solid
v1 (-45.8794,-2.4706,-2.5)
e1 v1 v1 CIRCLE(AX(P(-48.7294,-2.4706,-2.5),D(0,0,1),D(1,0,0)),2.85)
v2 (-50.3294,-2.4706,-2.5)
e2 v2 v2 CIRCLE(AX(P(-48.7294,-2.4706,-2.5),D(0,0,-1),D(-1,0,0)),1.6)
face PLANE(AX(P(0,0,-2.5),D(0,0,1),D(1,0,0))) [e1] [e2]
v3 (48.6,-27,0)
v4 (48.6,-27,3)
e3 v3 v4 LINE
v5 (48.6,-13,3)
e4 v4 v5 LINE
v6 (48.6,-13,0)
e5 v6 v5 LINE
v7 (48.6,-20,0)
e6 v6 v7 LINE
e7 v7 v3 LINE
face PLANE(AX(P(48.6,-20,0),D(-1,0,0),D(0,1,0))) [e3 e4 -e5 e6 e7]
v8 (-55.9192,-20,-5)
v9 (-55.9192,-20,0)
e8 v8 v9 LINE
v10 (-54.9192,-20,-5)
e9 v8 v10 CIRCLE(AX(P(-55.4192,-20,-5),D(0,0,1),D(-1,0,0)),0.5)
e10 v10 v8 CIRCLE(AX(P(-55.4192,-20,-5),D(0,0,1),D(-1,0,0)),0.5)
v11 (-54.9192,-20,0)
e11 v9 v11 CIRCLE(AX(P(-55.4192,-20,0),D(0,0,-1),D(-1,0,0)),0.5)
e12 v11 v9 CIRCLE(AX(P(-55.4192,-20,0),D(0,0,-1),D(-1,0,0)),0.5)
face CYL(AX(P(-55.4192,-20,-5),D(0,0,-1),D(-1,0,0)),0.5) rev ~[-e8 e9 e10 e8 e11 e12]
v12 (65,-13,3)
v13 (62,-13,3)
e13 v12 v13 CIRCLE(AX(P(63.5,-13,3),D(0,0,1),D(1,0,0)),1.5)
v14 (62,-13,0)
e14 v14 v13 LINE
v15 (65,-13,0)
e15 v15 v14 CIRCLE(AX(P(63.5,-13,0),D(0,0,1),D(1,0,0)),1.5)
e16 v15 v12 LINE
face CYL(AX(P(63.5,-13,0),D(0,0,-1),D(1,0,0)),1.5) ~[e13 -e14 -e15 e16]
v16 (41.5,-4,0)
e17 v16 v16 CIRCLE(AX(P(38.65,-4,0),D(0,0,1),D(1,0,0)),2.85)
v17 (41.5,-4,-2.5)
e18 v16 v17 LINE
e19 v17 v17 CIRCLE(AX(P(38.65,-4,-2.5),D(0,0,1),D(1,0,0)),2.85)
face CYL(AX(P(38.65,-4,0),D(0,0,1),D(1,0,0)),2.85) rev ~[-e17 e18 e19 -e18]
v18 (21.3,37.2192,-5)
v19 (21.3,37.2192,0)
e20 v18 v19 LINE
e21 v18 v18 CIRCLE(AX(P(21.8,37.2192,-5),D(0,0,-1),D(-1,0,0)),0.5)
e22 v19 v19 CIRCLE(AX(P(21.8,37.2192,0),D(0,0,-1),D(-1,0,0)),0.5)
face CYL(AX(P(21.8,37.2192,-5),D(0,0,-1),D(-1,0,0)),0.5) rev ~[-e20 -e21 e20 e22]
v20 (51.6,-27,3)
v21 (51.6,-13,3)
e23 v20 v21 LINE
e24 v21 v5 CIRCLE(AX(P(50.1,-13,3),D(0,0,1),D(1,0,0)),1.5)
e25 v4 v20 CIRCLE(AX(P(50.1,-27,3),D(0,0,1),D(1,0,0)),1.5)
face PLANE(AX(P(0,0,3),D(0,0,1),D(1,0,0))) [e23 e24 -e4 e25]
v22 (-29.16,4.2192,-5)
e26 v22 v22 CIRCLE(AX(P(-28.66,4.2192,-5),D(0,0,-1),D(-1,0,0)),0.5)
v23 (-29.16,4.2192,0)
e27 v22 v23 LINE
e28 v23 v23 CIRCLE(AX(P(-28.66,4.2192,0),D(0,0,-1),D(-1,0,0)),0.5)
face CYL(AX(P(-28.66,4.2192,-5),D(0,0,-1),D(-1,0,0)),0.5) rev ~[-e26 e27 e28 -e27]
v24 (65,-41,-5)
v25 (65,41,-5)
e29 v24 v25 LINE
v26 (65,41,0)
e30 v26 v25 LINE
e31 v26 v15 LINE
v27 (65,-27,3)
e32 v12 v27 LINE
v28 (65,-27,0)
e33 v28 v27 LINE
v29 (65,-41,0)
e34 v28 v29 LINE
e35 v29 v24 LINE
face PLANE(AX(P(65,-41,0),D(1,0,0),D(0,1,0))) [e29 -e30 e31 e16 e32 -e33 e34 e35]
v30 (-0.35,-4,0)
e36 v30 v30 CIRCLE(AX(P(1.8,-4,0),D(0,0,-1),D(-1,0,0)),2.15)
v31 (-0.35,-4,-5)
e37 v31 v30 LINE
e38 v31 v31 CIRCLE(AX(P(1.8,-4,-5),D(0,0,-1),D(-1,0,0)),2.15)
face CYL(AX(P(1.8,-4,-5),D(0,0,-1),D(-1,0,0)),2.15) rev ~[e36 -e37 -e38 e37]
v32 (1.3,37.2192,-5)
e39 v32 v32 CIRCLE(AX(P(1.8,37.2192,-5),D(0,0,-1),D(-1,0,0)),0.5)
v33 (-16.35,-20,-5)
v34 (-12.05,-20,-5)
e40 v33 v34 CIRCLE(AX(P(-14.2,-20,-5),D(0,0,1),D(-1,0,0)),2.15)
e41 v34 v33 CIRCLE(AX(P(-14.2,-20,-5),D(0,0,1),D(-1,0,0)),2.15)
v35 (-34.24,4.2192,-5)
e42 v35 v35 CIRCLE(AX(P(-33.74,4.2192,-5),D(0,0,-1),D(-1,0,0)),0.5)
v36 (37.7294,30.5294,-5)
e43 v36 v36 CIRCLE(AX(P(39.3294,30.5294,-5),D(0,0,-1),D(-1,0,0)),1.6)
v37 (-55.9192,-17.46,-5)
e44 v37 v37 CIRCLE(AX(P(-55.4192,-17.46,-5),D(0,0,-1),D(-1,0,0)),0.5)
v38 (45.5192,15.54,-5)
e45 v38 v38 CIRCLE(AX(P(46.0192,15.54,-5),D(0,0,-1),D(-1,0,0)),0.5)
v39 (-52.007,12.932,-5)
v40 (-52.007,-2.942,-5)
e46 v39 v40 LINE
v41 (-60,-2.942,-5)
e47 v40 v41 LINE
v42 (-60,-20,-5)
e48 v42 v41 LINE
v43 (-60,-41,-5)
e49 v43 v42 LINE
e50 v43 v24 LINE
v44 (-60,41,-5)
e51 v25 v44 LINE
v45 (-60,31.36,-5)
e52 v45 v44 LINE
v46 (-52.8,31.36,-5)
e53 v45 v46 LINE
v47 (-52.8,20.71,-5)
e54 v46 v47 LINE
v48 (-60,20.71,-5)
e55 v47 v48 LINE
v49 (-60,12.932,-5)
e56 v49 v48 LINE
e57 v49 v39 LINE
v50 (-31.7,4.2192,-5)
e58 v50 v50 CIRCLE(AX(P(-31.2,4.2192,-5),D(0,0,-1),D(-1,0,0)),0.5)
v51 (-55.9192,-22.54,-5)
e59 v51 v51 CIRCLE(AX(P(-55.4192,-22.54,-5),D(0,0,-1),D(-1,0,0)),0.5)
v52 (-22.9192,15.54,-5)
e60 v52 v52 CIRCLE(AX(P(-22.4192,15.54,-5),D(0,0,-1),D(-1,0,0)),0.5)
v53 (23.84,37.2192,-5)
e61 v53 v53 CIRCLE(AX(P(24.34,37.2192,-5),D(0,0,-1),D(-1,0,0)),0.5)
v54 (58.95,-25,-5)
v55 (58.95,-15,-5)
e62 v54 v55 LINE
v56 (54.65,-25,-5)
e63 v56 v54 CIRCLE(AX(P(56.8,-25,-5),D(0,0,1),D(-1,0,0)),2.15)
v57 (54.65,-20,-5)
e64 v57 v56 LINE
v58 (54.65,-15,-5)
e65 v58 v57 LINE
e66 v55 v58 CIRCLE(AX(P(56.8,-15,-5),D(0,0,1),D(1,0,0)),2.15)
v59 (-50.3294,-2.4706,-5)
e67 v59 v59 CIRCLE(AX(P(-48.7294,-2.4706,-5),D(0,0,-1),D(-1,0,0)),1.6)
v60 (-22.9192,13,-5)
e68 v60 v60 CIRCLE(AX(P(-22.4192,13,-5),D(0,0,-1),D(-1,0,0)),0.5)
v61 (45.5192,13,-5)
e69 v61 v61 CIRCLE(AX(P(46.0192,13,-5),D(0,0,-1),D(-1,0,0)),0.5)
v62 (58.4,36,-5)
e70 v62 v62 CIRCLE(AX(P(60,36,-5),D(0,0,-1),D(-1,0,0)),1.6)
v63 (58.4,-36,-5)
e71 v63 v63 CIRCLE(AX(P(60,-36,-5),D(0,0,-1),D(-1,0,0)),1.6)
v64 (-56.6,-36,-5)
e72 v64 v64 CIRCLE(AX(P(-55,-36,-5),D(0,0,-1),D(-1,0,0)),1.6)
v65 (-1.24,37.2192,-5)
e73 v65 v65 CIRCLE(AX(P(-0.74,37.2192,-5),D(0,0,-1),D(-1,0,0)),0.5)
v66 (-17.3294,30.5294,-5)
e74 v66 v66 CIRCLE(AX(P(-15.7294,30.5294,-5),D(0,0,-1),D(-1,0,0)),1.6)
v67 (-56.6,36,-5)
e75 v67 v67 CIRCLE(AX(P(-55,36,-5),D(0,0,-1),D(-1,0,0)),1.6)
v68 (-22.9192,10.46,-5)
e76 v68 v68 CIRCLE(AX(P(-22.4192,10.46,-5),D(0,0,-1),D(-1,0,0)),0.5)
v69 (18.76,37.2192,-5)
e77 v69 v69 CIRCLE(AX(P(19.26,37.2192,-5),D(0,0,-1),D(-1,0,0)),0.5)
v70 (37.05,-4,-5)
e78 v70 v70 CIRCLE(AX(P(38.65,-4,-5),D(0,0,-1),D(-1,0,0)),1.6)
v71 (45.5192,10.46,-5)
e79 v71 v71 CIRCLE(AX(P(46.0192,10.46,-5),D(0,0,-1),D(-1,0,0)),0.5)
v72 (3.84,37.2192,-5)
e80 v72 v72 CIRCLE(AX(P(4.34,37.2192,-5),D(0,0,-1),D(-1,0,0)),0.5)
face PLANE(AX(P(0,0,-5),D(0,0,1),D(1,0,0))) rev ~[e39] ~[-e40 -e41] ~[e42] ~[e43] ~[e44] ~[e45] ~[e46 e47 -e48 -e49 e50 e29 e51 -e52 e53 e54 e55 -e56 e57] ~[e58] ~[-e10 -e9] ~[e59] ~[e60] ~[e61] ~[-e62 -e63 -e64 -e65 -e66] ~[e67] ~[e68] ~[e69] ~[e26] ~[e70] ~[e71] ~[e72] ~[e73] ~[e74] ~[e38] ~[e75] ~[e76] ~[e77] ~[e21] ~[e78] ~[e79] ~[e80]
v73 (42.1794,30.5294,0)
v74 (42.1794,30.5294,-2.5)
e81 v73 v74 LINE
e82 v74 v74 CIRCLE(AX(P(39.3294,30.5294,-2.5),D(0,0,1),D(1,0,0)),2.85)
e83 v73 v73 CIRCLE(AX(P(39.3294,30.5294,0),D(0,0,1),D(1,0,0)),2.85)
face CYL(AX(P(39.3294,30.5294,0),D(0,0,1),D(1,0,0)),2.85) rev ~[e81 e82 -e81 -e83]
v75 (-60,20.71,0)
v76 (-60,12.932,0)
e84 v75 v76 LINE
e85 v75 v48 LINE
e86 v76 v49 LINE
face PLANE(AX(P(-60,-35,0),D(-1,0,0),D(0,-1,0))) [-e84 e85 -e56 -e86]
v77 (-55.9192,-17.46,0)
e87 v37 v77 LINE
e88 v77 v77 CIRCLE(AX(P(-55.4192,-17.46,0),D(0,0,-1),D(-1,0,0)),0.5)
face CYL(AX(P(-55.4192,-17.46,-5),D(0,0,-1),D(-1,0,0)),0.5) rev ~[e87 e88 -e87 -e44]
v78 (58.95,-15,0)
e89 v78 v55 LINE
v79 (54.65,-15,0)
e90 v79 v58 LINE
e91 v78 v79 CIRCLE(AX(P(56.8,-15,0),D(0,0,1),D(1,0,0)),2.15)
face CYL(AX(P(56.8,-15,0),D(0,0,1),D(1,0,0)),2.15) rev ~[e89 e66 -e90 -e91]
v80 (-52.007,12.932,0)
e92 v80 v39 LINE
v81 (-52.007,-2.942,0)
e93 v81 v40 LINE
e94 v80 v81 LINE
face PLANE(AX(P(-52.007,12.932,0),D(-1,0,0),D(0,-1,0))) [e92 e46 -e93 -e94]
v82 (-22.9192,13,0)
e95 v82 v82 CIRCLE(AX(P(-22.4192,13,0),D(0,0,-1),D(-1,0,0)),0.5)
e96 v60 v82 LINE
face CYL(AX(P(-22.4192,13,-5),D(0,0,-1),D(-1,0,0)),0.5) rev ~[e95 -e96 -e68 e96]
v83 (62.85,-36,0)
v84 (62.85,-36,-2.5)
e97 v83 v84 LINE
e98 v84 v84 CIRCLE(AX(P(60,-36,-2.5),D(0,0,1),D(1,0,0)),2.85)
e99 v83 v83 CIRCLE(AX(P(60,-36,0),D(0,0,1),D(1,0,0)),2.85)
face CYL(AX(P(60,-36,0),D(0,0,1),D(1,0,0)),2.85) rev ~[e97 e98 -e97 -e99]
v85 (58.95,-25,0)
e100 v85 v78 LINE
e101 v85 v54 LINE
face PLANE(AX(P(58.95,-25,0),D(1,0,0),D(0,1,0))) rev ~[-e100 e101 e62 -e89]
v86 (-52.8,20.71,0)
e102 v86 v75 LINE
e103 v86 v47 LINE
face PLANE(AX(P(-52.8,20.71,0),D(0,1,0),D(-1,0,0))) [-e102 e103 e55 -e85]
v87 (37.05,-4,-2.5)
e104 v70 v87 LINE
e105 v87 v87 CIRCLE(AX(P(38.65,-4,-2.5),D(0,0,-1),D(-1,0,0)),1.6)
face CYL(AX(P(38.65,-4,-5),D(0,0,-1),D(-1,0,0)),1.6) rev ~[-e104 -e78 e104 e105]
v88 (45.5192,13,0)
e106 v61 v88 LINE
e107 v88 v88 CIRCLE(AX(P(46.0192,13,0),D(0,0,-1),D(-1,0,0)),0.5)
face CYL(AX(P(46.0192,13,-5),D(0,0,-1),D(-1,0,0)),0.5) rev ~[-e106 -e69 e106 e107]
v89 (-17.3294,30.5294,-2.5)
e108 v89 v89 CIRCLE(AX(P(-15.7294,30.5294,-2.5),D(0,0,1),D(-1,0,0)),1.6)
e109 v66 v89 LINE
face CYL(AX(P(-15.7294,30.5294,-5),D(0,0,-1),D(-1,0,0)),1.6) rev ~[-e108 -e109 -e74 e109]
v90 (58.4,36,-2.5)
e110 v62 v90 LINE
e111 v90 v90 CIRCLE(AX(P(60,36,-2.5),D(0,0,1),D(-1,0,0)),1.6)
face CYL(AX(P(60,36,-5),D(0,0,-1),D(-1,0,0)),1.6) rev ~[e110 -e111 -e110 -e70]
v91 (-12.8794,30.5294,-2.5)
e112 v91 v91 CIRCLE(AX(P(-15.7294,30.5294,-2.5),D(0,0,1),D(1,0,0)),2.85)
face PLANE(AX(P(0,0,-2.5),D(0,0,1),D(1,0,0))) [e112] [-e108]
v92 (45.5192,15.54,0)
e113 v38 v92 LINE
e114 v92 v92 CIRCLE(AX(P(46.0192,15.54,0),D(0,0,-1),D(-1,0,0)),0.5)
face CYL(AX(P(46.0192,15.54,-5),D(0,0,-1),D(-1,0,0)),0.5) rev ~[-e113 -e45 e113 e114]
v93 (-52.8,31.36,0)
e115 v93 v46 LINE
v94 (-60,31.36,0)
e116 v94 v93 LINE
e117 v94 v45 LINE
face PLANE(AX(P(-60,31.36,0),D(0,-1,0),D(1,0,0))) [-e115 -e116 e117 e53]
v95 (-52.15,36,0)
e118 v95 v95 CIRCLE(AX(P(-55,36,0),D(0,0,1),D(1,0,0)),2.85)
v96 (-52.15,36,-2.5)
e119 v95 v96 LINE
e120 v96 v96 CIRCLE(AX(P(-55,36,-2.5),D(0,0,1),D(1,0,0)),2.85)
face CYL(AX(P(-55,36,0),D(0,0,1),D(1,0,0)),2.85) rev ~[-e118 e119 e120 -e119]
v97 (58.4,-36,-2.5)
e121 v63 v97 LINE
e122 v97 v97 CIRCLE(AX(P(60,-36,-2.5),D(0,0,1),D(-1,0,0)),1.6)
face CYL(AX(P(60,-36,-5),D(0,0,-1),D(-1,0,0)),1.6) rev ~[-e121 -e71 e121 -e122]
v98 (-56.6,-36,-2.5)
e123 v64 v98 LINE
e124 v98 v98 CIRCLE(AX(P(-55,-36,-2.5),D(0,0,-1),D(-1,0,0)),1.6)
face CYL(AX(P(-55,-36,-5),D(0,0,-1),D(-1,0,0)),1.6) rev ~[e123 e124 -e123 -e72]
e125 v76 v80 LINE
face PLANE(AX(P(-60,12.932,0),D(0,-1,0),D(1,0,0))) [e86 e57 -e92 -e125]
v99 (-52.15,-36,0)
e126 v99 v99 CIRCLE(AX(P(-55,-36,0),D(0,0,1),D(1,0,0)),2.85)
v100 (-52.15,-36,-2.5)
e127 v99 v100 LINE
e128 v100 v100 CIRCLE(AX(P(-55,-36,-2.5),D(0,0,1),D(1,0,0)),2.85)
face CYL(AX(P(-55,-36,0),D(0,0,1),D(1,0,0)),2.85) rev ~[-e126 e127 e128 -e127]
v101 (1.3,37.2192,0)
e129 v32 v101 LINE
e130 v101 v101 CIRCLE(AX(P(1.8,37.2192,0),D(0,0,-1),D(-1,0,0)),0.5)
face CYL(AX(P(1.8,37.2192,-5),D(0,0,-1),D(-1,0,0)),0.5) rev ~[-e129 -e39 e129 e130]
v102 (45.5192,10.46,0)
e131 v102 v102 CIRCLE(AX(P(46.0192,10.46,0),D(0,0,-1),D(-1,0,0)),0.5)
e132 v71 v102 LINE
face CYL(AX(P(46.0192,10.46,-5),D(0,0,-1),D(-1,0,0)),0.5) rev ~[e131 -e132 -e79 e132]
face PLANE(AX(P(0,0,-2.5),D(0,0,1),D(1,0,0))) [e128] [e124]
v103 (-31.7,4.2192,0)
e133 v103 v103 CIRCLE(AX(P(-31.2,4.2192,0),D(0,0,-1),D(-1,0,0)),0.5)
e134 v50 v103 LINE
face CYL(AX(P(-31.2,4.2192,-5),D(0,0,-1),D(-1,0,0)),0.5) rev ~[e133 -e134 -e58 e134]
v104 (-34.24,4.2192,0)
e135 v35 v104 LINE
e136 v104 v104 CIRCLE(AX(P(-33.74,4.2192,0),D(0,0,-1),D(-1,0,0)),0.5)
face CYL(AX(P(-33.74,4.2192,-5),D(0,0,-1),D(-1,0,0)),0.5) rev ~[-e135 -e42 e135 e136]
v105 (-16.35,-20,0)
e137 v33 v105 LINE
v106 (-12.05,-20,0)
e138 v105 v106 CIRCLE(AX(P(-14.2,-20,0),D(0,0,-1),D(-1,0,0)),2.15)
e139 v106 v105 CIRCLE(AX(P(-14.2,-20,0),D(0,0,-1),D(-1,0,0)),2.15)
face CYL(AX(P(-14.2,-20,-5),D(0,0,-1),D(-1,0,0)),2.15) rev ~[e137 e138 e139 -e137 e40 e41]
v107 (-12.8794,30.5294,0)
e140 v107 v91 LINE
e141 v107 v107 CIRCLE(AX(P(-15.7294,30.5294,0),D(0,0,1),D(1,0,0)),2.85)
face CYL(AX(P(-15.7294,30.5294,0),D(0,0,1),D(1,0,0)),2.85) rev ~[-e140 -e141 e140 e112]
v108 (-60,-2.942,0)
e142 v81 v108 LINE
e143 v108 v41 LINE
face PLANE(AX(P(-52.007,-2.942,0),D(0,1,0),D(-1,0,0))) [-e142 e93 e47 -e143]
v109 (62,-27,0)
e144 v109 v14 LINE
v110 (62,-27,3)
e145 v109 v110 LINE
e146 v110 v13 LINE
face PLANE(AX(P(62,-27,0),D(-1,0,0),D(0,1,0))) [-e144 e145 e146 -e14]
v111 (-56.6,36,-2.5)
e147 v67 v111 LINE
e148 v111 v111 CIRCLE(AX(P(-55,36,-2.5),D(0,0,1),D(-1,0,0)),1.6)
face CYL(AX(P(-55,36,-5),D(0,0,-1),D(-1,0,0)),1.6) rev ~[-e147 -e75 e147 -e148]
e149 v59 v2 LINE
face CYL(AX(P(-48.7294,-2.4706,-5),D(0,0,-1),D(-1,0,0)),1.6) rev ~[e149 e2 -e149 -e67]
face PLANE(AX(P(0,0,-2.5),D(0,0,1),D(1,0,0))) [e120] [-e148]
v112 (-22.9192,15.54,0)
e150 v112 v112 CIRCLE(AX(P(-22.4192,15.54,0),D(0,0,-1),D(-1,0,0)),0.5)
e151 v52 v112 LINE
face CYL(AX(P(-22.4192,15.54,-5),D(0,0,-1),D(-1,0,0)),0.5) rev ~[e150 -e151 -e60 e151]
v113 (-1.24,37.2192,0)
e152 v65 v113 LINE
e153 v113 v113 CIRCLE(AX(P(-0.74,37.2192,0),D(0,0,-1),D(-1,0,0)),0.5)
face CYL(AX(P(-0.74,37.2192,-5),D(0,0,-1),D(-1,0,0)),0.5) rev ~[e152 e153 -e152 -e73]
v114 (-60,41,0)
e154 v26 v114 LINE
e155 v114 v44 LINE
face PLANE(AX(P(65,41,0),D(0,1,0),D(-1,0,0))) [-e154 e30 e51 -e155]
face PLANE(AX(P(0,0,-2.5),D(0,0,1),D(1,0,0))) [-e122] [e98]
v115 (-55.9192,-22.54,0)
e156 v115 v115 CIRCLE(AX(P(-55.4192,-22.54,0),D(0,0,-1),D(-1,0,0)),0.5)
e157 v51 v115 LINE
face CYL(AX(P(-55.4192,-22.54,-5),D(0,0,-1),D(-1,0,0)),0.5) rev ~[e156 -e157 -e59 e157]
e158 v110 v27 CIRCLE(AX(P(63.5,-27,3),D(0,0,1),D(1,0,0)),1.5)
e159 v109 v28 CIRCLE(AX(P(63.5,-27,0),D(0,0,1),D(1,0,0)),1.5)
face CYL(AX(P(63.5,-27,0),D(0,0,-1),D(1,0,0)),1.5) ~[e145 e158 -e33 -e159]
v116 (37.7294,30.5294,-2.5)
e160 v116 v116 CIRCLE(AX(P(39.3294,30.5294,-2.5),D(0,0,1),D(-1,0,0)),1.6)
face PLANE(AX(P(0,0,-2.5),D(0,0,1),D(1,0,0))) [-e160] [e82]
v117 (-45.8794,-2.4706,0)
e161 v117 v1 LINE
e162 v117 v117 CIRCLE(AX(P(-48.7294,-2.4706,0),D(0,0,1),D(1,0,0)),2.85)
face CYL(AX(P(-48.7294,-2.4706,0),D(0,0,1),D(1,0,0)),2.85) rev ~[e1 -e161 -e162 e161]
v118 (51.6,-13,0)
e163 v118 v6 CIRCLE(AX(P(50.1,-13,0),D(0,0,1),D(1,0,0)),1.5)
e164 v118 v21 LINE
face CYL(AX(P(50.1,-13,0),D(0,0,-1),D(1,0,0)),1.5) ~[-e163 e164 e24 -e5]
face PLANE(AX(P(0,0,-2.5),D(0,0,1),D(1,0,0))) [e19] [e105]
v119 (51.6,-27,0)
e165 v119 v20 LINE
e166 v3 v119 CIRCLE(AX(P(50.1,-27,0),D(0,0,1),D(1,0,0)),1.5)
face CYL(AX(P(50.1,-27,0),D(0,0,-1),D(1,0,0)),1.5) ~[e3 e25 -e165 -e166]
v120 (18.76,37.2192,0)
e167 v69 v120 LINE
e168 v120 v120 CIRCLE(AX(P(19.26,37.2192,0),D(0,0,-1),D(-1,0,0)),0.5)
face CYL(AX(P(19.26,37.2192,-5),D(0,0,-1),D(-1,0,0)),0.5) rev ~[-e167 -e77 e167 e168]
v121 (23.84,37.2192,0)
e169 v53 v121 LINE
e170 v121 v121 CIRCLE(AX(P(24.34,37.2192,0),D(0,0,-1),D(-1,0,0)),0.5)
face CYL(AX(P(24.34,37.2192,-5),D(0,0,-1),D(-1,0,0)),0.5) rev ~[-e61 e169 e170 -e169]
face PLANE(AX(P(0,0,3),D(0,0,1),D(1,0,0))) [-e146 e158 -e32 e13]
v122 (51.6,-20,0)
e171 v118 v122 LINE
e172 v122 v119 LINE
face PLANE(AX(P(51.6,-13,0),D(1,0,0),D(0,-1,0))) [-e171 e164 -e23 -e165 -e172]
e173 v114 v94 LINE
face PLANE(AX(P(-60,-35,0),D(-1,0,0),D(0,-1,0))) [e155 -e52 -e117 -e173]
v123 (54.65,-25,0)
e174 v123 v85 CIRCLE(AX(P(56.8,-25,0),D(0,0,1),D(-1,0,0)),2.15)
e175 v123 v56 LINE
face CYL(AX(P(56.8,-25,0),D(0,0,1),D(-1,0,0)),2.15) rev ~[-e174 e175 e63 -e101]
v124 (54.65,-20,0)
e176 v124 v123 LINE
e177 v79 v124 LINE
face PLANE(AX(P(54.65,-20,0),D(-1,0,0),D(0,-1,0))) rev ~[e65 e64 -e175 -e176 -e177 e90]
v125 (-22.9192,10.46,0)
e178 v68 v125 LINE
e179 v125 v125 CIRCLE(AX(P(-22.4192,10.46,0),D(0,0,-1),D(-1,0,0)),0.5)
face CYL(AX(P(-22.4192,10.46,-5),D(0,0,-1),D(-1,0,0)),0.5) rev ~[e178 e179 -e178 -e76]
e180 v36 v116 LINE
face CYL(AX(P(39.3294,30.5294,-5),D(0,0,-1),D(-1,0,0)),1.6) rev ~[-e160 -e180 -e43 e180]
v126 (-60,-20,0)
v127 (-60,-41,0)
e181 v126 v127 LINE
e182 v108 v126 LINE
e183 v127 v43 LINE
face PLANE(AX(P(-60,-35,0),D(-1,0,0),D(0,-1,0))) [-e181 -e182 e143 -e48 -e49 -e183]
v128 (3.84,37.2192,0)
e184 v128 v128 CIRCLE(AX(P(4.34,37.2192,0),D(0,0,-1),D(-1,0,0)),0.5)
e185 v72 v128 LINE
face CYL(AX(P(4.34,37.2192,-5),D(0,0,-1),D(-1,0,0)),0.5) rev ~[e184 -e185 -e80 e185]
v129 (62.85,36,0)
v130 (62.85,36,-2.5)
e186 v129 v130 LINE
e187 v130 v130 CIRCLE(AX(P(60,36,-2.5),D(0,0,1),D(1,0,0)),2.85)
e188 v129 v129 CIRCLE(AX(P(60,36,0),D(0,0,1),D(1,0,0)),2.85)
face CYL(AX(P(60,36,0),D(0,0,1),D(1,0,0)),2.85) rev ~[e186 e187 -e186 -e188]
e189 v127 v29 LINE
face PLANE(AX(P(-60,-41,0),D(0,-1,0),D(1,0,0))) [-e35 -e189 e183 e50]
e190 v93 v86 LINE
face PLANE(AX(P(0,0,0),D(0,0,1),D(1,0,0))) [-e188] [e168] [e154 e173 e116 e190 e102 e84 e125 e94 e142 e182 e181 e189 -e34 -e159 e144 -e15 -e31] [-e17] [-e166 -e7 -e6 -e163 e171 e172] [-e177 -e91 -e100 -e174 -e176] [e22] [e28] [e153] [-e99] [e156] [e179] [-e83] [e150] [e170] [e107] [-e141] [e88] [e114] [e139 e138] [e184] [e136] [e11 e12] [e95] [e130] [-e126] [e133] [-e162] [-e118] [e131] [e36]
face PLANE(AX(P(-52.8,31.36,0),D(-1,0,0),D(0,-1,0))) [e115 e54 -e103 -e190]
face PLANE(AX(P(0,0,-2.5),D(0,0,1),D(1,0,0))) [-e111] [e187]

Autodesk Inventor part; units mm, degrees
ref_plane "YZ Plane" through (0, 0, 0) normal (1, 0, 0) x (0, 1, 0)
ref_plane "XZ Plane" through (0, 0, 0) normal (0, 1, 0) x (-1, 0, 0)
ref_plane "XY Plane" through (0, 0, 0) normal (0, 0, 1) x (1, 0, 0)
sketch "Sketch1" plane through (0, 0, 0) normal (0, 0, 1) x (1, 0, 0)
  line L0 (65, -35) -> (-65, -35)
  line L1 (-65, -35) -> (-65, 35)
  line L2 (-65, 35) -> (65, 35)
  line L3 (65, 35) -> (65, -35)
  line L4 (65, -35) -> (-65, 35) construction
  line L5 (-65, -35) -> (65, 35) construction
  line L6 (56.8, -15) -> (56.8, -25) construction
  line L7 (54.65, -15) -> (54.65, -25)
  line L8 (58.95, -25) -> (58.95, -15)
  arc A0 (58.95, -15) -> (54.65, -15) centre (56.8, -15) ccw
  arc A1 (54.65, -25) -> (58.95, -25) centre (56.8, -25) ccw
  line L9 (62, -13) -> (65, -13)
  line L10 (65, -13) -> (65, -27)
  line L11 (65, -27) -> (62, -27)
  line L12 (62, -27) -> (62, -13)
  line L13 (62, -13) -> (65, -27) construction
  line L14 (65, -13) -> (62, -27) construction
  line L15 (56.8, -20) -> (63.5, -20) construction
  line L16 (48.6, -13) -> (51.6, -13)
  line L17 (51.6, -13) -> (51.6, -27)
  line L18 (51.6, -27) -> (48.6, -27)
  line L19 (48.6, -27) -> (48.6, -13)
  line L20 (48.6, -13) -> (51.6, -27) construction
  line L21 (51.6, -13) -> (48.6, -27) construction
  line L22 (50.1, -20) -> (56.8, -20) construction
  circle A2 centre (56.8, -20) radius 0.5
  line L23 (56.8, -20) -> (-65, -20)
  line L24 (-60, 35) -> (-60, -35)
  line L25 (-65, 35) -> (65, 35)
  line L26 (65, 35) -> (65, 41)
  line L27 (65, 41) -> (-65, 41)
  line L28 (-65, 41) -> (-65, 35)
  line L29 (-60, 35) -> (-60, 41)
  circle A3 centre (50.1, -13) radius 1.5
  circle A4 centre (63.5, -13) radius 1.5
  circle A5 centre (50.1, -27) radius 1.5
  circle A6 centre (63.5, -27) radius 1.5
  line L30 (-65, -35) -> (-65, -41)
  line L31 (-65, -41) -> (65, -41)
  line L32 (65, -41) -> (65, -35)
  line L33 (-60, -35) -> (-60, -41)
  point P0 (0, 0)
  point P1 (65, -27)
  point P2 (65, -13)
  point P3 (65, -13)
  dimension "d0" = 70
  dimension "d1" = 130
  dimension "d2" = 10
  dimension "d3" = 4.3
  dimension "d4" = 14
  dimension "d5" = 3
  dimension "d6" = 14
  dimension "d7" = 3
  dimension "d10" = 8
  dimension "d11" = 0
  dimension "d16" = 1
  dimension "d20" = 5.2
  dimension "d21" = 5.2
  dimension "d22" = 5
  dimension "d23" = 6
  dimension "d26" = 125
  dimension "d27" = 76
  dimension "d122" = 6
extrude "Extrusion1" add sketch "Sketch1" against normal blind 5 contours L32 L31 L33 L0 | L19 A3 L17 L23 | L23 L17 A5 L19 | L0 L24 L2 L3 A4 L12 A6 | A6 L12 A4 L3 | A6 L11 | L11 A6 | A4 L9 | L9 A4 | L29 L27 L26 L2 | A5 L18 | L18 A5 | A3 L16 | L16 A3
extrude "Extrusion2" add sketch "Sketch1" along normal blind 3 contours L19 A3 L17 L23 | L23 L17 A5 L19 | A6 L12 A4 L3 | A6 L11 | L11 A6 | A4 L9 | L9 A4 | A5 L18 | L18 A5 | A3 L16 | L16 A3
sketch "Sketch4" plane through (0, 0, -5) normal (0, 0, -1) x (-1, 0, 0)
  circle A0 centre (55.4192, -22.54) radius 0.2032 construction
  circle A1 centre (55.4192, -20) radius 0.2032 construction
  circle A2 centre (55.4192, -17.46) radius 0.2032 construction
  circle A3 centre (33.74, 4.2192) radius 0.2032 construction
  circle A4 centre (31.2, 4.2192) radius 0.2032 construction
  circle A5 centre (28.66, 4.2192) radius 0.2032 construction
  circle A6 centre (22.4192, 10.46) radius 0.2032 construction
  circle A7 centre (22.4192, 13) radius 0.2032 construction
  circle A8 centre (22.4192, 15.54) radius 0.2032 construction
  circle A9 centre (-46.0192, 10.46) radius 0.2032 construction
  circle A10 centre (-46.0192, 13) radius 0.2032 construction
  circle A11 centre (-46.0192, 15.54) radius 0.2032 construction
  circle A12 centre (-24.34, 37.2192) radius 0.2032 construction
  circle A13 centre (-21.8, 37.2192) radius 0.2032 construction
  circle A14 centre (-19.26, 37.2192) radius 0.2032 construction
  circle A15 centre (-4.34, 37.2192) radius 0.2032 construction
  circle A16 centre (-1.8, 37.2192) radius 0.2032 construction
  circle A17 centre (0.74, 37.2192) radius 0.2032 construction
  circle A18 centre (55, 36) radius 1.6
  arc A19 (-26.0469, -12.3763) -> (-29.4237, -15.7531) centre (-28.7, -13.1) ccw construction
  arc A20 (-29.4237, -24.2469) -> (-26.0469, -27.6237) centre (-28.7, -26.9) ccw construction
  line L0 (-48.6, -13) -> (-48.6, -27) construction
  circle A21 centre (-56.8, -20) radius 2.3368 construction
  line L1 (-28.7, -26.9) -> (-28.7, -13.1) construction
  line L2 (-56.8, -20) -> (-48.6, -20) construction
  line L3 (-48.6, -20) -> (-28.7, -20) construction
  line L4 (-38.65, -20) -> (-38.65, -36) construction
  line L5 (60, -41) -> (60, 41) construction
  line L6 (60, 36) -> (-65, 36) construction
  line L7 (55, -4) -> (55, 36) construction
  line L8 (-38.65, -20) -> (-38.65, 36) construction
  line L9 (60, 41) -> (-65, 41) construction
  circle A22 centre (-1.8, -4) radius 2.15 projected
  circle A23 centre (14.2, -20) radius 2.15 projected
  line L10 (-1.8, -4) -> (60, -4) construction
  circle A24 centre (55.4192, -22.54) radius 0.5
  circle A25 centre (55.4192, -20) radius 0.5
  circle A26 centre (55.4192, -17.46) radius 0.5
  circle A27 centre (33.74, 4.2192) radius 0.5
  circle A28 centre (31.2, 4.2192) radius 0.5
  circle A29 centre (28.66, 4.2192) radius 0.5
  circle A30 centre (-46.0192, 10.46) radius 0.5
  circle A31 centre (-46.0192, 13) radius 0.5
  circle A32 centre (-46.0192, 15.54) radius 0.5
  circle A33 centre (0.74, 37.2192) radius 0.5
  circle A34 centre (-1.8, 37.2192) radius 0.5
  circle A35 centre (-4.34, 37.2192) radius 0.5
  circle A36 centre (-19.26, 37.2192) radius 0.5
  circle A37 centre (-21.8, 37.2192) radius 0.5
  circle A38 centre (-24.34, 37.2192) radius 0.5
  line L11 (55, -4) -> (55, -35) construction
  line L12 (60, 41) -> (60, -41) construction
  line L13 (60, -36) -> (-65, -36) construction
  circle A39 centre (55, -36) radius 1.6
  line L14 (-60, 41) -> (-60, -35) construction
  circle A40 centre (-60, 36) radius 1.6
  line L15 (22.4192, 13) -> (55, 13) construction
  line L16 (-1.8, -4) -> (-38.65, -4) construction
  circle A41 centre (-38.65, -4) radius 1.6
  line L17 (22.4192, 13) -> (-65, 13) construction
  line L18 (55.4192, -22.54) -> (28.66, -22.54) construction
  line L19 (28.66, -22.54) -> (28.66, 4.2192) construction
  line L20 (28.66, 4.2192) -> (55.4192, 4.2192) construction
  line L21 (55.4192, 4.2192) -> (55.4192, -22.54) construction
  line L22 (-4.34, 37.2192) -> (22.4192, 37.2192) construction
  line L23 (22.4192, 37.2192) -> (22.4192, 10.46) construction
  line L24 (22.4192, 10.46) -> (-4.34, 10.46) construction
  line L25 (-4.34, 10.46) -> (-4.34, 37.2192) construction
  line L26 (-19.26, 37.2192) -> (-46.0192, 37.2192) construction
  line L27 (-46.0192, 37.2192) -> (-46.0192, 10.46) construction
  line L28 (-46.0192, 10.46) -> (-19.26, 10.46) construction
  line L29 (-19.26, 10.46) -> (-19.26, 37.2192) construction
  line L30 (-32.6396, 37.2192) -> (-32.6396, 10.46) construction
  line L31 (-32.6396, 23.8396) -> (-46.0192, 23.8396) construction
  line L32 (-39.3294, 23.8396) -> (-39.3294, 37.2192) construction
  circle A42 centre (-39.3294, 30.5294) radius 1.6
  line L33 (9.0396, 37.2192) -> (9.0396, 10.46) construction
  line L34 (9.0396, 23.8396) -> (22.4192, 23.8396) construction
  line L35 (15.7294, 23.8396) -> (15.7294, 37.2192) construction
  circle A43 centre (15.7294, 30.5294) radius 1.6
  line L36 (42.0396, 4.2192) -> (42.0396, -22.54) construction
  line L37 (42.0396, -9.1604) -> (55.4192, -9.1604) construction
  line L38 (48.7294, -9.1604) -> (48.7294, 4.2192) construction
  circle A44 centre (48.7294, -2.4706) radius 1.6
  circle A45 centre (22.4192, 10.46) radius 0.2032 construction
  circle A46 centre (22.4192, 13) radius 0.2032 construction
  circle A47 centre (22.4192, 15.54) radius 0.2032 construction
  circle A48 centre (22.4192, 15.54) radius 0.5
  circle A49 centre (22.4192, 13) radius 0.5
  circle A50 centre (22.4192, 10.46) radius 0.5
  line L39 (-65, -41) -> (60, -41) projected
  line L40 (-65, 41) -> (-65, -41) projected
  circle A51 centre (-60, -36) radius 1.6
  point P0 (0, 0)
  dimension "d29" = 3.2
  dimension "d32" = 5
  dimension "d33" = 5
  dimension "d36" = 1
  dimension "d37" = 1
  dimension "d38" = 1
  dimension "d39" = 1
  dimension "d40" = 1
  dimension "d41" = 1
  dimension "d42" = 1
  dimension "d43" = 1
  dimension "d44" = 1
  dimension "d45" = 1
  dimension "d46" = 1
  dimension "d47" = 1
  dimension "d48" = 1
  dimension "d49" = 1
  dimension "d50" = 1
  dimension "d54" = 3.2
  dimension "d57" = 3.2
  dimension "d59" = 3.2
  dimension "d61" = 3.2
  dimension "d62" = 3.2
  dimension "d63" = 3.2
  dimension "d64" = 1
  dimension "d65" = 1
  dimension "d66" = 1
  dimension "d123" = 5
  dimension "d124" = 5
  dimension "d135" = 3.2
extrude "Extrusion6" cut sketch "Sketch4" against normal up to next
sketch "Sketch7" plane through (0, 0, 0) normal (0, 0, 1) x (1, 0, 0)
  circle A0 centre (-15.7294, 30.5294) radius 1.6 projected
  circle A1 centre (-55.4192, -17.46) radius 0.5 projected
  circle A2 centre (-22.4192, 10.46) radius 0.5 projected
  circle A3 centre (1.8, 37.2192) radius 0.5 projected
  circle A4 centre (24.34, 37.2192) radius 0.5 projected
  circle A5 centre (-14.2, -20) radius 2.15 projected
  circle A6 centre (46.0192, 15.54) radius 0.5 projected
  circle A7 centre (21.8, 37.2192) radius 0.5 projected
  circle A8 centre (-0.74, 37.2192) radius 0.5 projected
  circle A9 centre (-28.66, 4.2192) radius 0.5 projected
  circle A10 centre (-55.4192, -20) radius 0.5 projected
  circle A11 centre (-48.7294, -2.4706) radius 1.6 projected
  circle A12 centre (39.3294, 30.5294) radius 1.6 projected
  circle A13 centre (38.65, -4) radius 1.6 projected
  circle A14 centre (-55, 36) radius 1.6 projected
  circle A15 centre (-33.74, 4.2192) radius 0.5 projected
  circle A16 centre (-22.4192, 13) radius 0.5 projected
  circle A17 centre (4.34, 37.2192) radius 0.5 projected
  circle A18 centre (46.0192, 10.46) radius 0.5 projected
  circle A19 centre (1.8, -4) radius 2.15 projected
  circle A20 centre (46.0192, 13) radius 0.5 projected
  circle A21 centre (19.26, 37.2192) radius 0.5 projected
  circle A22 centre (-22.4192, 15.54) radius 0.5 projected
  circle A23 centre (-31.2, 4.2192) radius 0.5 projected
  circle A24 centre (-55.4192, -22.54) radius 0.5 projected
  circle A25 centre (-55, -36) radius 1.6 projected
  circle A26 centre (60, 36) radius 1.6 projected
  line L0 (54.65, -15) -> (54.65, -25) projected
  arc A27 (54.65, -25) -> (58.95, -25) centre (56.8, -25) ccw projected
  line L1 (58.95, -25) -> (58.95, -15) projected
  arc A28 (58.95, -15) -> (54.65, -15) centre (56.8, -15) ccw projected
  line L2 (-60, -41) -> (-60, 41) projected
  line L3 (-60, 41) -> (65, 41) projected
  circle A29 centre (1.8, -4) radius 4
  circle A30 centre (-14.2, -20) radius 4
  line L4 (52.8, -25) -> (52.8, -15)
  arc A31 (60.8, -15) -> (52.8, -15) centre (56.8, -15) ccw
  line L5 (60.8, -15) -> (60.8, -25)
  arc A32 (52.8, -25) -> (60.8, -25) centre (56.8, -25) ccw
  line L6 (65, 41) -> (65, -41) projected
  line L7 (65, -41) -> (-60, -41) projected
  point P0 (0, 0)
  dimension "d69" = 1.85
  dimension "d70" = 1.85
  dimension "d71" = 1.85
sketch "Sketch8" plane through (0, 0, 0) normal (0, 0, 1) x (1, 0, 0)
  circle A0 centre (-48.7294, -2.4706) radius 1.6 construction
  circle A1 centre (-55, 36) radius 1.6 construction
  circle A2 centre (-15.7294, 30.5294) radius 1.6 construction
  circle A3 centre (39.3294, 30.5294) radius 1.6 construction
  circle A4 centre (60, 36) radius 1.6 construction
  circle A5 centre (38.65, -4) radius 1.6 construction
  circle A6 centre (-55, -36) radius 1.6 construction
  circle A7 centre (-55, 36) radius 1.6 projected
  circle A8 centre (-55, 36) radius 2.85
  circle A9 centre (-15.7294, 30.5294) radius 1.6 projected
  circle A10 centre (-15.7294, 30.5294) radius 2.85
  circle A11 centre (39.3294, 30.5294) radius 1.6 projected
  circle A12 centre (39.3294, 30.5294) radius 2.85
  circle A13 centre (60, 36) radius 1.6 projected
  circle A14 centre (60, 36) radius 2.85
  circle A15 centre (-48.7294, -2.4706) radius 2.85
  circle A16 centre (38.65, -4) radius 1.6 projected
  circle A17 centre (38.65, -4) radius 2.85
  circle A18 centre (-55, -36) radius 2.85
  circle A19 centre (60, -36) radius 1.6 projected
  circle A20 centre (60, -36) radius 2.85
  point P0 (0, 0)
  point P1 (0.2167, -2.5455)
  point P2 (0.2167, -5.4545)
  dimension "d72" = 5.7
  dimension "d73" = 5.7
  dimension "d74" = 5.7
  dimension "d75" = 5.7
  dimension "d76" = 5.7
  dimension "d77" = 5.7
  dimension "d78" = 5.7
  dimension "d136" = 5.7
extrude "Extrusion7" cut sketch "Sketch8" against normal blind 2.5 contours A8 | A10 | A12 | A14 | A15 | A16 | A17 | A18 | A20
sketch "Sketch12" plane through (0, 0, 0) normal (0, 0, 1) x (1, 0, 0)
  line L0 (-60, 31.36) -> (-52.8, 31.36)
  line L1 (-52.8, 31.36) -> (-52.8, 20.71)
  line L2 (-52.8, 20.71) -> (-60, 20.71)
  line L3 (-60, 20.71) -> (-60, 31.36)
  line L4 (-58.2, 26.76) -> (-58.2, 26.56) construction
  line L5 (-58.2, 25.51) -> (-58.2, 25.31) construction
  line L6 (-54.75, 21.21) -> (-55.25, 21.21) construction
  line L7 (-54.75, 30.86) -> (-55.25, 30.86) construction
  line L8 (-53.3, 25.586) -> (-53.3, 26.484) construction
  line L9 (-60, 12.432) -> (-52.507, 12.432) construction
  line L10 (-52.507, 12.432) -> (-52.507, 9.9) construction
  line L11 (-52.507, 9.9) -> (-60, 9.9) construction
  line L12 (-60, 0.1) -> (-52.507, 0.1) construction
  line L13 (-52.507, 0.1) -> (-52.507, -2.442) construction
  line L14 (-52.507, -2.442) -> (-60, -2.442) construction
  line L15 (-60, 12.932) -> (-52.007, 12.932)
  line L16 (-52.007, 12.932) -> (-52.007, -2.942)
  line L17 (-52.007, -2.942) -> (-60, -2.942)
  line L18 (-60, -2.942) -> (-60, 12.932)
  line L19 (-60, 41) -> (-60, -41) projected
  point P0 (0, 0)
  point P1 (-55, 30.86)
  point P2 (-55, 21.21)
  point P3 (-53.3, 26.035)
  point P4 (-58.2, 26.66)
  point P5 (-52.507, 11.166)
  point P6 (-56.2535, 12.432)
  point P7 (-56.2535, -2.442)
  dimension "d148" = 0.5
  dimension "d149" = 0.5
  dimension "d151" = 0.5
  dimension "d152" = 0.5
  dimension "d153" = 0.5
  dimension "d154" = 0
  dimension "d155" = 0
  dimension "d158" = 0.5
extrude "Extrusion12" cut sketch "Sketch12" against normal through all
properties part number "base_main"
